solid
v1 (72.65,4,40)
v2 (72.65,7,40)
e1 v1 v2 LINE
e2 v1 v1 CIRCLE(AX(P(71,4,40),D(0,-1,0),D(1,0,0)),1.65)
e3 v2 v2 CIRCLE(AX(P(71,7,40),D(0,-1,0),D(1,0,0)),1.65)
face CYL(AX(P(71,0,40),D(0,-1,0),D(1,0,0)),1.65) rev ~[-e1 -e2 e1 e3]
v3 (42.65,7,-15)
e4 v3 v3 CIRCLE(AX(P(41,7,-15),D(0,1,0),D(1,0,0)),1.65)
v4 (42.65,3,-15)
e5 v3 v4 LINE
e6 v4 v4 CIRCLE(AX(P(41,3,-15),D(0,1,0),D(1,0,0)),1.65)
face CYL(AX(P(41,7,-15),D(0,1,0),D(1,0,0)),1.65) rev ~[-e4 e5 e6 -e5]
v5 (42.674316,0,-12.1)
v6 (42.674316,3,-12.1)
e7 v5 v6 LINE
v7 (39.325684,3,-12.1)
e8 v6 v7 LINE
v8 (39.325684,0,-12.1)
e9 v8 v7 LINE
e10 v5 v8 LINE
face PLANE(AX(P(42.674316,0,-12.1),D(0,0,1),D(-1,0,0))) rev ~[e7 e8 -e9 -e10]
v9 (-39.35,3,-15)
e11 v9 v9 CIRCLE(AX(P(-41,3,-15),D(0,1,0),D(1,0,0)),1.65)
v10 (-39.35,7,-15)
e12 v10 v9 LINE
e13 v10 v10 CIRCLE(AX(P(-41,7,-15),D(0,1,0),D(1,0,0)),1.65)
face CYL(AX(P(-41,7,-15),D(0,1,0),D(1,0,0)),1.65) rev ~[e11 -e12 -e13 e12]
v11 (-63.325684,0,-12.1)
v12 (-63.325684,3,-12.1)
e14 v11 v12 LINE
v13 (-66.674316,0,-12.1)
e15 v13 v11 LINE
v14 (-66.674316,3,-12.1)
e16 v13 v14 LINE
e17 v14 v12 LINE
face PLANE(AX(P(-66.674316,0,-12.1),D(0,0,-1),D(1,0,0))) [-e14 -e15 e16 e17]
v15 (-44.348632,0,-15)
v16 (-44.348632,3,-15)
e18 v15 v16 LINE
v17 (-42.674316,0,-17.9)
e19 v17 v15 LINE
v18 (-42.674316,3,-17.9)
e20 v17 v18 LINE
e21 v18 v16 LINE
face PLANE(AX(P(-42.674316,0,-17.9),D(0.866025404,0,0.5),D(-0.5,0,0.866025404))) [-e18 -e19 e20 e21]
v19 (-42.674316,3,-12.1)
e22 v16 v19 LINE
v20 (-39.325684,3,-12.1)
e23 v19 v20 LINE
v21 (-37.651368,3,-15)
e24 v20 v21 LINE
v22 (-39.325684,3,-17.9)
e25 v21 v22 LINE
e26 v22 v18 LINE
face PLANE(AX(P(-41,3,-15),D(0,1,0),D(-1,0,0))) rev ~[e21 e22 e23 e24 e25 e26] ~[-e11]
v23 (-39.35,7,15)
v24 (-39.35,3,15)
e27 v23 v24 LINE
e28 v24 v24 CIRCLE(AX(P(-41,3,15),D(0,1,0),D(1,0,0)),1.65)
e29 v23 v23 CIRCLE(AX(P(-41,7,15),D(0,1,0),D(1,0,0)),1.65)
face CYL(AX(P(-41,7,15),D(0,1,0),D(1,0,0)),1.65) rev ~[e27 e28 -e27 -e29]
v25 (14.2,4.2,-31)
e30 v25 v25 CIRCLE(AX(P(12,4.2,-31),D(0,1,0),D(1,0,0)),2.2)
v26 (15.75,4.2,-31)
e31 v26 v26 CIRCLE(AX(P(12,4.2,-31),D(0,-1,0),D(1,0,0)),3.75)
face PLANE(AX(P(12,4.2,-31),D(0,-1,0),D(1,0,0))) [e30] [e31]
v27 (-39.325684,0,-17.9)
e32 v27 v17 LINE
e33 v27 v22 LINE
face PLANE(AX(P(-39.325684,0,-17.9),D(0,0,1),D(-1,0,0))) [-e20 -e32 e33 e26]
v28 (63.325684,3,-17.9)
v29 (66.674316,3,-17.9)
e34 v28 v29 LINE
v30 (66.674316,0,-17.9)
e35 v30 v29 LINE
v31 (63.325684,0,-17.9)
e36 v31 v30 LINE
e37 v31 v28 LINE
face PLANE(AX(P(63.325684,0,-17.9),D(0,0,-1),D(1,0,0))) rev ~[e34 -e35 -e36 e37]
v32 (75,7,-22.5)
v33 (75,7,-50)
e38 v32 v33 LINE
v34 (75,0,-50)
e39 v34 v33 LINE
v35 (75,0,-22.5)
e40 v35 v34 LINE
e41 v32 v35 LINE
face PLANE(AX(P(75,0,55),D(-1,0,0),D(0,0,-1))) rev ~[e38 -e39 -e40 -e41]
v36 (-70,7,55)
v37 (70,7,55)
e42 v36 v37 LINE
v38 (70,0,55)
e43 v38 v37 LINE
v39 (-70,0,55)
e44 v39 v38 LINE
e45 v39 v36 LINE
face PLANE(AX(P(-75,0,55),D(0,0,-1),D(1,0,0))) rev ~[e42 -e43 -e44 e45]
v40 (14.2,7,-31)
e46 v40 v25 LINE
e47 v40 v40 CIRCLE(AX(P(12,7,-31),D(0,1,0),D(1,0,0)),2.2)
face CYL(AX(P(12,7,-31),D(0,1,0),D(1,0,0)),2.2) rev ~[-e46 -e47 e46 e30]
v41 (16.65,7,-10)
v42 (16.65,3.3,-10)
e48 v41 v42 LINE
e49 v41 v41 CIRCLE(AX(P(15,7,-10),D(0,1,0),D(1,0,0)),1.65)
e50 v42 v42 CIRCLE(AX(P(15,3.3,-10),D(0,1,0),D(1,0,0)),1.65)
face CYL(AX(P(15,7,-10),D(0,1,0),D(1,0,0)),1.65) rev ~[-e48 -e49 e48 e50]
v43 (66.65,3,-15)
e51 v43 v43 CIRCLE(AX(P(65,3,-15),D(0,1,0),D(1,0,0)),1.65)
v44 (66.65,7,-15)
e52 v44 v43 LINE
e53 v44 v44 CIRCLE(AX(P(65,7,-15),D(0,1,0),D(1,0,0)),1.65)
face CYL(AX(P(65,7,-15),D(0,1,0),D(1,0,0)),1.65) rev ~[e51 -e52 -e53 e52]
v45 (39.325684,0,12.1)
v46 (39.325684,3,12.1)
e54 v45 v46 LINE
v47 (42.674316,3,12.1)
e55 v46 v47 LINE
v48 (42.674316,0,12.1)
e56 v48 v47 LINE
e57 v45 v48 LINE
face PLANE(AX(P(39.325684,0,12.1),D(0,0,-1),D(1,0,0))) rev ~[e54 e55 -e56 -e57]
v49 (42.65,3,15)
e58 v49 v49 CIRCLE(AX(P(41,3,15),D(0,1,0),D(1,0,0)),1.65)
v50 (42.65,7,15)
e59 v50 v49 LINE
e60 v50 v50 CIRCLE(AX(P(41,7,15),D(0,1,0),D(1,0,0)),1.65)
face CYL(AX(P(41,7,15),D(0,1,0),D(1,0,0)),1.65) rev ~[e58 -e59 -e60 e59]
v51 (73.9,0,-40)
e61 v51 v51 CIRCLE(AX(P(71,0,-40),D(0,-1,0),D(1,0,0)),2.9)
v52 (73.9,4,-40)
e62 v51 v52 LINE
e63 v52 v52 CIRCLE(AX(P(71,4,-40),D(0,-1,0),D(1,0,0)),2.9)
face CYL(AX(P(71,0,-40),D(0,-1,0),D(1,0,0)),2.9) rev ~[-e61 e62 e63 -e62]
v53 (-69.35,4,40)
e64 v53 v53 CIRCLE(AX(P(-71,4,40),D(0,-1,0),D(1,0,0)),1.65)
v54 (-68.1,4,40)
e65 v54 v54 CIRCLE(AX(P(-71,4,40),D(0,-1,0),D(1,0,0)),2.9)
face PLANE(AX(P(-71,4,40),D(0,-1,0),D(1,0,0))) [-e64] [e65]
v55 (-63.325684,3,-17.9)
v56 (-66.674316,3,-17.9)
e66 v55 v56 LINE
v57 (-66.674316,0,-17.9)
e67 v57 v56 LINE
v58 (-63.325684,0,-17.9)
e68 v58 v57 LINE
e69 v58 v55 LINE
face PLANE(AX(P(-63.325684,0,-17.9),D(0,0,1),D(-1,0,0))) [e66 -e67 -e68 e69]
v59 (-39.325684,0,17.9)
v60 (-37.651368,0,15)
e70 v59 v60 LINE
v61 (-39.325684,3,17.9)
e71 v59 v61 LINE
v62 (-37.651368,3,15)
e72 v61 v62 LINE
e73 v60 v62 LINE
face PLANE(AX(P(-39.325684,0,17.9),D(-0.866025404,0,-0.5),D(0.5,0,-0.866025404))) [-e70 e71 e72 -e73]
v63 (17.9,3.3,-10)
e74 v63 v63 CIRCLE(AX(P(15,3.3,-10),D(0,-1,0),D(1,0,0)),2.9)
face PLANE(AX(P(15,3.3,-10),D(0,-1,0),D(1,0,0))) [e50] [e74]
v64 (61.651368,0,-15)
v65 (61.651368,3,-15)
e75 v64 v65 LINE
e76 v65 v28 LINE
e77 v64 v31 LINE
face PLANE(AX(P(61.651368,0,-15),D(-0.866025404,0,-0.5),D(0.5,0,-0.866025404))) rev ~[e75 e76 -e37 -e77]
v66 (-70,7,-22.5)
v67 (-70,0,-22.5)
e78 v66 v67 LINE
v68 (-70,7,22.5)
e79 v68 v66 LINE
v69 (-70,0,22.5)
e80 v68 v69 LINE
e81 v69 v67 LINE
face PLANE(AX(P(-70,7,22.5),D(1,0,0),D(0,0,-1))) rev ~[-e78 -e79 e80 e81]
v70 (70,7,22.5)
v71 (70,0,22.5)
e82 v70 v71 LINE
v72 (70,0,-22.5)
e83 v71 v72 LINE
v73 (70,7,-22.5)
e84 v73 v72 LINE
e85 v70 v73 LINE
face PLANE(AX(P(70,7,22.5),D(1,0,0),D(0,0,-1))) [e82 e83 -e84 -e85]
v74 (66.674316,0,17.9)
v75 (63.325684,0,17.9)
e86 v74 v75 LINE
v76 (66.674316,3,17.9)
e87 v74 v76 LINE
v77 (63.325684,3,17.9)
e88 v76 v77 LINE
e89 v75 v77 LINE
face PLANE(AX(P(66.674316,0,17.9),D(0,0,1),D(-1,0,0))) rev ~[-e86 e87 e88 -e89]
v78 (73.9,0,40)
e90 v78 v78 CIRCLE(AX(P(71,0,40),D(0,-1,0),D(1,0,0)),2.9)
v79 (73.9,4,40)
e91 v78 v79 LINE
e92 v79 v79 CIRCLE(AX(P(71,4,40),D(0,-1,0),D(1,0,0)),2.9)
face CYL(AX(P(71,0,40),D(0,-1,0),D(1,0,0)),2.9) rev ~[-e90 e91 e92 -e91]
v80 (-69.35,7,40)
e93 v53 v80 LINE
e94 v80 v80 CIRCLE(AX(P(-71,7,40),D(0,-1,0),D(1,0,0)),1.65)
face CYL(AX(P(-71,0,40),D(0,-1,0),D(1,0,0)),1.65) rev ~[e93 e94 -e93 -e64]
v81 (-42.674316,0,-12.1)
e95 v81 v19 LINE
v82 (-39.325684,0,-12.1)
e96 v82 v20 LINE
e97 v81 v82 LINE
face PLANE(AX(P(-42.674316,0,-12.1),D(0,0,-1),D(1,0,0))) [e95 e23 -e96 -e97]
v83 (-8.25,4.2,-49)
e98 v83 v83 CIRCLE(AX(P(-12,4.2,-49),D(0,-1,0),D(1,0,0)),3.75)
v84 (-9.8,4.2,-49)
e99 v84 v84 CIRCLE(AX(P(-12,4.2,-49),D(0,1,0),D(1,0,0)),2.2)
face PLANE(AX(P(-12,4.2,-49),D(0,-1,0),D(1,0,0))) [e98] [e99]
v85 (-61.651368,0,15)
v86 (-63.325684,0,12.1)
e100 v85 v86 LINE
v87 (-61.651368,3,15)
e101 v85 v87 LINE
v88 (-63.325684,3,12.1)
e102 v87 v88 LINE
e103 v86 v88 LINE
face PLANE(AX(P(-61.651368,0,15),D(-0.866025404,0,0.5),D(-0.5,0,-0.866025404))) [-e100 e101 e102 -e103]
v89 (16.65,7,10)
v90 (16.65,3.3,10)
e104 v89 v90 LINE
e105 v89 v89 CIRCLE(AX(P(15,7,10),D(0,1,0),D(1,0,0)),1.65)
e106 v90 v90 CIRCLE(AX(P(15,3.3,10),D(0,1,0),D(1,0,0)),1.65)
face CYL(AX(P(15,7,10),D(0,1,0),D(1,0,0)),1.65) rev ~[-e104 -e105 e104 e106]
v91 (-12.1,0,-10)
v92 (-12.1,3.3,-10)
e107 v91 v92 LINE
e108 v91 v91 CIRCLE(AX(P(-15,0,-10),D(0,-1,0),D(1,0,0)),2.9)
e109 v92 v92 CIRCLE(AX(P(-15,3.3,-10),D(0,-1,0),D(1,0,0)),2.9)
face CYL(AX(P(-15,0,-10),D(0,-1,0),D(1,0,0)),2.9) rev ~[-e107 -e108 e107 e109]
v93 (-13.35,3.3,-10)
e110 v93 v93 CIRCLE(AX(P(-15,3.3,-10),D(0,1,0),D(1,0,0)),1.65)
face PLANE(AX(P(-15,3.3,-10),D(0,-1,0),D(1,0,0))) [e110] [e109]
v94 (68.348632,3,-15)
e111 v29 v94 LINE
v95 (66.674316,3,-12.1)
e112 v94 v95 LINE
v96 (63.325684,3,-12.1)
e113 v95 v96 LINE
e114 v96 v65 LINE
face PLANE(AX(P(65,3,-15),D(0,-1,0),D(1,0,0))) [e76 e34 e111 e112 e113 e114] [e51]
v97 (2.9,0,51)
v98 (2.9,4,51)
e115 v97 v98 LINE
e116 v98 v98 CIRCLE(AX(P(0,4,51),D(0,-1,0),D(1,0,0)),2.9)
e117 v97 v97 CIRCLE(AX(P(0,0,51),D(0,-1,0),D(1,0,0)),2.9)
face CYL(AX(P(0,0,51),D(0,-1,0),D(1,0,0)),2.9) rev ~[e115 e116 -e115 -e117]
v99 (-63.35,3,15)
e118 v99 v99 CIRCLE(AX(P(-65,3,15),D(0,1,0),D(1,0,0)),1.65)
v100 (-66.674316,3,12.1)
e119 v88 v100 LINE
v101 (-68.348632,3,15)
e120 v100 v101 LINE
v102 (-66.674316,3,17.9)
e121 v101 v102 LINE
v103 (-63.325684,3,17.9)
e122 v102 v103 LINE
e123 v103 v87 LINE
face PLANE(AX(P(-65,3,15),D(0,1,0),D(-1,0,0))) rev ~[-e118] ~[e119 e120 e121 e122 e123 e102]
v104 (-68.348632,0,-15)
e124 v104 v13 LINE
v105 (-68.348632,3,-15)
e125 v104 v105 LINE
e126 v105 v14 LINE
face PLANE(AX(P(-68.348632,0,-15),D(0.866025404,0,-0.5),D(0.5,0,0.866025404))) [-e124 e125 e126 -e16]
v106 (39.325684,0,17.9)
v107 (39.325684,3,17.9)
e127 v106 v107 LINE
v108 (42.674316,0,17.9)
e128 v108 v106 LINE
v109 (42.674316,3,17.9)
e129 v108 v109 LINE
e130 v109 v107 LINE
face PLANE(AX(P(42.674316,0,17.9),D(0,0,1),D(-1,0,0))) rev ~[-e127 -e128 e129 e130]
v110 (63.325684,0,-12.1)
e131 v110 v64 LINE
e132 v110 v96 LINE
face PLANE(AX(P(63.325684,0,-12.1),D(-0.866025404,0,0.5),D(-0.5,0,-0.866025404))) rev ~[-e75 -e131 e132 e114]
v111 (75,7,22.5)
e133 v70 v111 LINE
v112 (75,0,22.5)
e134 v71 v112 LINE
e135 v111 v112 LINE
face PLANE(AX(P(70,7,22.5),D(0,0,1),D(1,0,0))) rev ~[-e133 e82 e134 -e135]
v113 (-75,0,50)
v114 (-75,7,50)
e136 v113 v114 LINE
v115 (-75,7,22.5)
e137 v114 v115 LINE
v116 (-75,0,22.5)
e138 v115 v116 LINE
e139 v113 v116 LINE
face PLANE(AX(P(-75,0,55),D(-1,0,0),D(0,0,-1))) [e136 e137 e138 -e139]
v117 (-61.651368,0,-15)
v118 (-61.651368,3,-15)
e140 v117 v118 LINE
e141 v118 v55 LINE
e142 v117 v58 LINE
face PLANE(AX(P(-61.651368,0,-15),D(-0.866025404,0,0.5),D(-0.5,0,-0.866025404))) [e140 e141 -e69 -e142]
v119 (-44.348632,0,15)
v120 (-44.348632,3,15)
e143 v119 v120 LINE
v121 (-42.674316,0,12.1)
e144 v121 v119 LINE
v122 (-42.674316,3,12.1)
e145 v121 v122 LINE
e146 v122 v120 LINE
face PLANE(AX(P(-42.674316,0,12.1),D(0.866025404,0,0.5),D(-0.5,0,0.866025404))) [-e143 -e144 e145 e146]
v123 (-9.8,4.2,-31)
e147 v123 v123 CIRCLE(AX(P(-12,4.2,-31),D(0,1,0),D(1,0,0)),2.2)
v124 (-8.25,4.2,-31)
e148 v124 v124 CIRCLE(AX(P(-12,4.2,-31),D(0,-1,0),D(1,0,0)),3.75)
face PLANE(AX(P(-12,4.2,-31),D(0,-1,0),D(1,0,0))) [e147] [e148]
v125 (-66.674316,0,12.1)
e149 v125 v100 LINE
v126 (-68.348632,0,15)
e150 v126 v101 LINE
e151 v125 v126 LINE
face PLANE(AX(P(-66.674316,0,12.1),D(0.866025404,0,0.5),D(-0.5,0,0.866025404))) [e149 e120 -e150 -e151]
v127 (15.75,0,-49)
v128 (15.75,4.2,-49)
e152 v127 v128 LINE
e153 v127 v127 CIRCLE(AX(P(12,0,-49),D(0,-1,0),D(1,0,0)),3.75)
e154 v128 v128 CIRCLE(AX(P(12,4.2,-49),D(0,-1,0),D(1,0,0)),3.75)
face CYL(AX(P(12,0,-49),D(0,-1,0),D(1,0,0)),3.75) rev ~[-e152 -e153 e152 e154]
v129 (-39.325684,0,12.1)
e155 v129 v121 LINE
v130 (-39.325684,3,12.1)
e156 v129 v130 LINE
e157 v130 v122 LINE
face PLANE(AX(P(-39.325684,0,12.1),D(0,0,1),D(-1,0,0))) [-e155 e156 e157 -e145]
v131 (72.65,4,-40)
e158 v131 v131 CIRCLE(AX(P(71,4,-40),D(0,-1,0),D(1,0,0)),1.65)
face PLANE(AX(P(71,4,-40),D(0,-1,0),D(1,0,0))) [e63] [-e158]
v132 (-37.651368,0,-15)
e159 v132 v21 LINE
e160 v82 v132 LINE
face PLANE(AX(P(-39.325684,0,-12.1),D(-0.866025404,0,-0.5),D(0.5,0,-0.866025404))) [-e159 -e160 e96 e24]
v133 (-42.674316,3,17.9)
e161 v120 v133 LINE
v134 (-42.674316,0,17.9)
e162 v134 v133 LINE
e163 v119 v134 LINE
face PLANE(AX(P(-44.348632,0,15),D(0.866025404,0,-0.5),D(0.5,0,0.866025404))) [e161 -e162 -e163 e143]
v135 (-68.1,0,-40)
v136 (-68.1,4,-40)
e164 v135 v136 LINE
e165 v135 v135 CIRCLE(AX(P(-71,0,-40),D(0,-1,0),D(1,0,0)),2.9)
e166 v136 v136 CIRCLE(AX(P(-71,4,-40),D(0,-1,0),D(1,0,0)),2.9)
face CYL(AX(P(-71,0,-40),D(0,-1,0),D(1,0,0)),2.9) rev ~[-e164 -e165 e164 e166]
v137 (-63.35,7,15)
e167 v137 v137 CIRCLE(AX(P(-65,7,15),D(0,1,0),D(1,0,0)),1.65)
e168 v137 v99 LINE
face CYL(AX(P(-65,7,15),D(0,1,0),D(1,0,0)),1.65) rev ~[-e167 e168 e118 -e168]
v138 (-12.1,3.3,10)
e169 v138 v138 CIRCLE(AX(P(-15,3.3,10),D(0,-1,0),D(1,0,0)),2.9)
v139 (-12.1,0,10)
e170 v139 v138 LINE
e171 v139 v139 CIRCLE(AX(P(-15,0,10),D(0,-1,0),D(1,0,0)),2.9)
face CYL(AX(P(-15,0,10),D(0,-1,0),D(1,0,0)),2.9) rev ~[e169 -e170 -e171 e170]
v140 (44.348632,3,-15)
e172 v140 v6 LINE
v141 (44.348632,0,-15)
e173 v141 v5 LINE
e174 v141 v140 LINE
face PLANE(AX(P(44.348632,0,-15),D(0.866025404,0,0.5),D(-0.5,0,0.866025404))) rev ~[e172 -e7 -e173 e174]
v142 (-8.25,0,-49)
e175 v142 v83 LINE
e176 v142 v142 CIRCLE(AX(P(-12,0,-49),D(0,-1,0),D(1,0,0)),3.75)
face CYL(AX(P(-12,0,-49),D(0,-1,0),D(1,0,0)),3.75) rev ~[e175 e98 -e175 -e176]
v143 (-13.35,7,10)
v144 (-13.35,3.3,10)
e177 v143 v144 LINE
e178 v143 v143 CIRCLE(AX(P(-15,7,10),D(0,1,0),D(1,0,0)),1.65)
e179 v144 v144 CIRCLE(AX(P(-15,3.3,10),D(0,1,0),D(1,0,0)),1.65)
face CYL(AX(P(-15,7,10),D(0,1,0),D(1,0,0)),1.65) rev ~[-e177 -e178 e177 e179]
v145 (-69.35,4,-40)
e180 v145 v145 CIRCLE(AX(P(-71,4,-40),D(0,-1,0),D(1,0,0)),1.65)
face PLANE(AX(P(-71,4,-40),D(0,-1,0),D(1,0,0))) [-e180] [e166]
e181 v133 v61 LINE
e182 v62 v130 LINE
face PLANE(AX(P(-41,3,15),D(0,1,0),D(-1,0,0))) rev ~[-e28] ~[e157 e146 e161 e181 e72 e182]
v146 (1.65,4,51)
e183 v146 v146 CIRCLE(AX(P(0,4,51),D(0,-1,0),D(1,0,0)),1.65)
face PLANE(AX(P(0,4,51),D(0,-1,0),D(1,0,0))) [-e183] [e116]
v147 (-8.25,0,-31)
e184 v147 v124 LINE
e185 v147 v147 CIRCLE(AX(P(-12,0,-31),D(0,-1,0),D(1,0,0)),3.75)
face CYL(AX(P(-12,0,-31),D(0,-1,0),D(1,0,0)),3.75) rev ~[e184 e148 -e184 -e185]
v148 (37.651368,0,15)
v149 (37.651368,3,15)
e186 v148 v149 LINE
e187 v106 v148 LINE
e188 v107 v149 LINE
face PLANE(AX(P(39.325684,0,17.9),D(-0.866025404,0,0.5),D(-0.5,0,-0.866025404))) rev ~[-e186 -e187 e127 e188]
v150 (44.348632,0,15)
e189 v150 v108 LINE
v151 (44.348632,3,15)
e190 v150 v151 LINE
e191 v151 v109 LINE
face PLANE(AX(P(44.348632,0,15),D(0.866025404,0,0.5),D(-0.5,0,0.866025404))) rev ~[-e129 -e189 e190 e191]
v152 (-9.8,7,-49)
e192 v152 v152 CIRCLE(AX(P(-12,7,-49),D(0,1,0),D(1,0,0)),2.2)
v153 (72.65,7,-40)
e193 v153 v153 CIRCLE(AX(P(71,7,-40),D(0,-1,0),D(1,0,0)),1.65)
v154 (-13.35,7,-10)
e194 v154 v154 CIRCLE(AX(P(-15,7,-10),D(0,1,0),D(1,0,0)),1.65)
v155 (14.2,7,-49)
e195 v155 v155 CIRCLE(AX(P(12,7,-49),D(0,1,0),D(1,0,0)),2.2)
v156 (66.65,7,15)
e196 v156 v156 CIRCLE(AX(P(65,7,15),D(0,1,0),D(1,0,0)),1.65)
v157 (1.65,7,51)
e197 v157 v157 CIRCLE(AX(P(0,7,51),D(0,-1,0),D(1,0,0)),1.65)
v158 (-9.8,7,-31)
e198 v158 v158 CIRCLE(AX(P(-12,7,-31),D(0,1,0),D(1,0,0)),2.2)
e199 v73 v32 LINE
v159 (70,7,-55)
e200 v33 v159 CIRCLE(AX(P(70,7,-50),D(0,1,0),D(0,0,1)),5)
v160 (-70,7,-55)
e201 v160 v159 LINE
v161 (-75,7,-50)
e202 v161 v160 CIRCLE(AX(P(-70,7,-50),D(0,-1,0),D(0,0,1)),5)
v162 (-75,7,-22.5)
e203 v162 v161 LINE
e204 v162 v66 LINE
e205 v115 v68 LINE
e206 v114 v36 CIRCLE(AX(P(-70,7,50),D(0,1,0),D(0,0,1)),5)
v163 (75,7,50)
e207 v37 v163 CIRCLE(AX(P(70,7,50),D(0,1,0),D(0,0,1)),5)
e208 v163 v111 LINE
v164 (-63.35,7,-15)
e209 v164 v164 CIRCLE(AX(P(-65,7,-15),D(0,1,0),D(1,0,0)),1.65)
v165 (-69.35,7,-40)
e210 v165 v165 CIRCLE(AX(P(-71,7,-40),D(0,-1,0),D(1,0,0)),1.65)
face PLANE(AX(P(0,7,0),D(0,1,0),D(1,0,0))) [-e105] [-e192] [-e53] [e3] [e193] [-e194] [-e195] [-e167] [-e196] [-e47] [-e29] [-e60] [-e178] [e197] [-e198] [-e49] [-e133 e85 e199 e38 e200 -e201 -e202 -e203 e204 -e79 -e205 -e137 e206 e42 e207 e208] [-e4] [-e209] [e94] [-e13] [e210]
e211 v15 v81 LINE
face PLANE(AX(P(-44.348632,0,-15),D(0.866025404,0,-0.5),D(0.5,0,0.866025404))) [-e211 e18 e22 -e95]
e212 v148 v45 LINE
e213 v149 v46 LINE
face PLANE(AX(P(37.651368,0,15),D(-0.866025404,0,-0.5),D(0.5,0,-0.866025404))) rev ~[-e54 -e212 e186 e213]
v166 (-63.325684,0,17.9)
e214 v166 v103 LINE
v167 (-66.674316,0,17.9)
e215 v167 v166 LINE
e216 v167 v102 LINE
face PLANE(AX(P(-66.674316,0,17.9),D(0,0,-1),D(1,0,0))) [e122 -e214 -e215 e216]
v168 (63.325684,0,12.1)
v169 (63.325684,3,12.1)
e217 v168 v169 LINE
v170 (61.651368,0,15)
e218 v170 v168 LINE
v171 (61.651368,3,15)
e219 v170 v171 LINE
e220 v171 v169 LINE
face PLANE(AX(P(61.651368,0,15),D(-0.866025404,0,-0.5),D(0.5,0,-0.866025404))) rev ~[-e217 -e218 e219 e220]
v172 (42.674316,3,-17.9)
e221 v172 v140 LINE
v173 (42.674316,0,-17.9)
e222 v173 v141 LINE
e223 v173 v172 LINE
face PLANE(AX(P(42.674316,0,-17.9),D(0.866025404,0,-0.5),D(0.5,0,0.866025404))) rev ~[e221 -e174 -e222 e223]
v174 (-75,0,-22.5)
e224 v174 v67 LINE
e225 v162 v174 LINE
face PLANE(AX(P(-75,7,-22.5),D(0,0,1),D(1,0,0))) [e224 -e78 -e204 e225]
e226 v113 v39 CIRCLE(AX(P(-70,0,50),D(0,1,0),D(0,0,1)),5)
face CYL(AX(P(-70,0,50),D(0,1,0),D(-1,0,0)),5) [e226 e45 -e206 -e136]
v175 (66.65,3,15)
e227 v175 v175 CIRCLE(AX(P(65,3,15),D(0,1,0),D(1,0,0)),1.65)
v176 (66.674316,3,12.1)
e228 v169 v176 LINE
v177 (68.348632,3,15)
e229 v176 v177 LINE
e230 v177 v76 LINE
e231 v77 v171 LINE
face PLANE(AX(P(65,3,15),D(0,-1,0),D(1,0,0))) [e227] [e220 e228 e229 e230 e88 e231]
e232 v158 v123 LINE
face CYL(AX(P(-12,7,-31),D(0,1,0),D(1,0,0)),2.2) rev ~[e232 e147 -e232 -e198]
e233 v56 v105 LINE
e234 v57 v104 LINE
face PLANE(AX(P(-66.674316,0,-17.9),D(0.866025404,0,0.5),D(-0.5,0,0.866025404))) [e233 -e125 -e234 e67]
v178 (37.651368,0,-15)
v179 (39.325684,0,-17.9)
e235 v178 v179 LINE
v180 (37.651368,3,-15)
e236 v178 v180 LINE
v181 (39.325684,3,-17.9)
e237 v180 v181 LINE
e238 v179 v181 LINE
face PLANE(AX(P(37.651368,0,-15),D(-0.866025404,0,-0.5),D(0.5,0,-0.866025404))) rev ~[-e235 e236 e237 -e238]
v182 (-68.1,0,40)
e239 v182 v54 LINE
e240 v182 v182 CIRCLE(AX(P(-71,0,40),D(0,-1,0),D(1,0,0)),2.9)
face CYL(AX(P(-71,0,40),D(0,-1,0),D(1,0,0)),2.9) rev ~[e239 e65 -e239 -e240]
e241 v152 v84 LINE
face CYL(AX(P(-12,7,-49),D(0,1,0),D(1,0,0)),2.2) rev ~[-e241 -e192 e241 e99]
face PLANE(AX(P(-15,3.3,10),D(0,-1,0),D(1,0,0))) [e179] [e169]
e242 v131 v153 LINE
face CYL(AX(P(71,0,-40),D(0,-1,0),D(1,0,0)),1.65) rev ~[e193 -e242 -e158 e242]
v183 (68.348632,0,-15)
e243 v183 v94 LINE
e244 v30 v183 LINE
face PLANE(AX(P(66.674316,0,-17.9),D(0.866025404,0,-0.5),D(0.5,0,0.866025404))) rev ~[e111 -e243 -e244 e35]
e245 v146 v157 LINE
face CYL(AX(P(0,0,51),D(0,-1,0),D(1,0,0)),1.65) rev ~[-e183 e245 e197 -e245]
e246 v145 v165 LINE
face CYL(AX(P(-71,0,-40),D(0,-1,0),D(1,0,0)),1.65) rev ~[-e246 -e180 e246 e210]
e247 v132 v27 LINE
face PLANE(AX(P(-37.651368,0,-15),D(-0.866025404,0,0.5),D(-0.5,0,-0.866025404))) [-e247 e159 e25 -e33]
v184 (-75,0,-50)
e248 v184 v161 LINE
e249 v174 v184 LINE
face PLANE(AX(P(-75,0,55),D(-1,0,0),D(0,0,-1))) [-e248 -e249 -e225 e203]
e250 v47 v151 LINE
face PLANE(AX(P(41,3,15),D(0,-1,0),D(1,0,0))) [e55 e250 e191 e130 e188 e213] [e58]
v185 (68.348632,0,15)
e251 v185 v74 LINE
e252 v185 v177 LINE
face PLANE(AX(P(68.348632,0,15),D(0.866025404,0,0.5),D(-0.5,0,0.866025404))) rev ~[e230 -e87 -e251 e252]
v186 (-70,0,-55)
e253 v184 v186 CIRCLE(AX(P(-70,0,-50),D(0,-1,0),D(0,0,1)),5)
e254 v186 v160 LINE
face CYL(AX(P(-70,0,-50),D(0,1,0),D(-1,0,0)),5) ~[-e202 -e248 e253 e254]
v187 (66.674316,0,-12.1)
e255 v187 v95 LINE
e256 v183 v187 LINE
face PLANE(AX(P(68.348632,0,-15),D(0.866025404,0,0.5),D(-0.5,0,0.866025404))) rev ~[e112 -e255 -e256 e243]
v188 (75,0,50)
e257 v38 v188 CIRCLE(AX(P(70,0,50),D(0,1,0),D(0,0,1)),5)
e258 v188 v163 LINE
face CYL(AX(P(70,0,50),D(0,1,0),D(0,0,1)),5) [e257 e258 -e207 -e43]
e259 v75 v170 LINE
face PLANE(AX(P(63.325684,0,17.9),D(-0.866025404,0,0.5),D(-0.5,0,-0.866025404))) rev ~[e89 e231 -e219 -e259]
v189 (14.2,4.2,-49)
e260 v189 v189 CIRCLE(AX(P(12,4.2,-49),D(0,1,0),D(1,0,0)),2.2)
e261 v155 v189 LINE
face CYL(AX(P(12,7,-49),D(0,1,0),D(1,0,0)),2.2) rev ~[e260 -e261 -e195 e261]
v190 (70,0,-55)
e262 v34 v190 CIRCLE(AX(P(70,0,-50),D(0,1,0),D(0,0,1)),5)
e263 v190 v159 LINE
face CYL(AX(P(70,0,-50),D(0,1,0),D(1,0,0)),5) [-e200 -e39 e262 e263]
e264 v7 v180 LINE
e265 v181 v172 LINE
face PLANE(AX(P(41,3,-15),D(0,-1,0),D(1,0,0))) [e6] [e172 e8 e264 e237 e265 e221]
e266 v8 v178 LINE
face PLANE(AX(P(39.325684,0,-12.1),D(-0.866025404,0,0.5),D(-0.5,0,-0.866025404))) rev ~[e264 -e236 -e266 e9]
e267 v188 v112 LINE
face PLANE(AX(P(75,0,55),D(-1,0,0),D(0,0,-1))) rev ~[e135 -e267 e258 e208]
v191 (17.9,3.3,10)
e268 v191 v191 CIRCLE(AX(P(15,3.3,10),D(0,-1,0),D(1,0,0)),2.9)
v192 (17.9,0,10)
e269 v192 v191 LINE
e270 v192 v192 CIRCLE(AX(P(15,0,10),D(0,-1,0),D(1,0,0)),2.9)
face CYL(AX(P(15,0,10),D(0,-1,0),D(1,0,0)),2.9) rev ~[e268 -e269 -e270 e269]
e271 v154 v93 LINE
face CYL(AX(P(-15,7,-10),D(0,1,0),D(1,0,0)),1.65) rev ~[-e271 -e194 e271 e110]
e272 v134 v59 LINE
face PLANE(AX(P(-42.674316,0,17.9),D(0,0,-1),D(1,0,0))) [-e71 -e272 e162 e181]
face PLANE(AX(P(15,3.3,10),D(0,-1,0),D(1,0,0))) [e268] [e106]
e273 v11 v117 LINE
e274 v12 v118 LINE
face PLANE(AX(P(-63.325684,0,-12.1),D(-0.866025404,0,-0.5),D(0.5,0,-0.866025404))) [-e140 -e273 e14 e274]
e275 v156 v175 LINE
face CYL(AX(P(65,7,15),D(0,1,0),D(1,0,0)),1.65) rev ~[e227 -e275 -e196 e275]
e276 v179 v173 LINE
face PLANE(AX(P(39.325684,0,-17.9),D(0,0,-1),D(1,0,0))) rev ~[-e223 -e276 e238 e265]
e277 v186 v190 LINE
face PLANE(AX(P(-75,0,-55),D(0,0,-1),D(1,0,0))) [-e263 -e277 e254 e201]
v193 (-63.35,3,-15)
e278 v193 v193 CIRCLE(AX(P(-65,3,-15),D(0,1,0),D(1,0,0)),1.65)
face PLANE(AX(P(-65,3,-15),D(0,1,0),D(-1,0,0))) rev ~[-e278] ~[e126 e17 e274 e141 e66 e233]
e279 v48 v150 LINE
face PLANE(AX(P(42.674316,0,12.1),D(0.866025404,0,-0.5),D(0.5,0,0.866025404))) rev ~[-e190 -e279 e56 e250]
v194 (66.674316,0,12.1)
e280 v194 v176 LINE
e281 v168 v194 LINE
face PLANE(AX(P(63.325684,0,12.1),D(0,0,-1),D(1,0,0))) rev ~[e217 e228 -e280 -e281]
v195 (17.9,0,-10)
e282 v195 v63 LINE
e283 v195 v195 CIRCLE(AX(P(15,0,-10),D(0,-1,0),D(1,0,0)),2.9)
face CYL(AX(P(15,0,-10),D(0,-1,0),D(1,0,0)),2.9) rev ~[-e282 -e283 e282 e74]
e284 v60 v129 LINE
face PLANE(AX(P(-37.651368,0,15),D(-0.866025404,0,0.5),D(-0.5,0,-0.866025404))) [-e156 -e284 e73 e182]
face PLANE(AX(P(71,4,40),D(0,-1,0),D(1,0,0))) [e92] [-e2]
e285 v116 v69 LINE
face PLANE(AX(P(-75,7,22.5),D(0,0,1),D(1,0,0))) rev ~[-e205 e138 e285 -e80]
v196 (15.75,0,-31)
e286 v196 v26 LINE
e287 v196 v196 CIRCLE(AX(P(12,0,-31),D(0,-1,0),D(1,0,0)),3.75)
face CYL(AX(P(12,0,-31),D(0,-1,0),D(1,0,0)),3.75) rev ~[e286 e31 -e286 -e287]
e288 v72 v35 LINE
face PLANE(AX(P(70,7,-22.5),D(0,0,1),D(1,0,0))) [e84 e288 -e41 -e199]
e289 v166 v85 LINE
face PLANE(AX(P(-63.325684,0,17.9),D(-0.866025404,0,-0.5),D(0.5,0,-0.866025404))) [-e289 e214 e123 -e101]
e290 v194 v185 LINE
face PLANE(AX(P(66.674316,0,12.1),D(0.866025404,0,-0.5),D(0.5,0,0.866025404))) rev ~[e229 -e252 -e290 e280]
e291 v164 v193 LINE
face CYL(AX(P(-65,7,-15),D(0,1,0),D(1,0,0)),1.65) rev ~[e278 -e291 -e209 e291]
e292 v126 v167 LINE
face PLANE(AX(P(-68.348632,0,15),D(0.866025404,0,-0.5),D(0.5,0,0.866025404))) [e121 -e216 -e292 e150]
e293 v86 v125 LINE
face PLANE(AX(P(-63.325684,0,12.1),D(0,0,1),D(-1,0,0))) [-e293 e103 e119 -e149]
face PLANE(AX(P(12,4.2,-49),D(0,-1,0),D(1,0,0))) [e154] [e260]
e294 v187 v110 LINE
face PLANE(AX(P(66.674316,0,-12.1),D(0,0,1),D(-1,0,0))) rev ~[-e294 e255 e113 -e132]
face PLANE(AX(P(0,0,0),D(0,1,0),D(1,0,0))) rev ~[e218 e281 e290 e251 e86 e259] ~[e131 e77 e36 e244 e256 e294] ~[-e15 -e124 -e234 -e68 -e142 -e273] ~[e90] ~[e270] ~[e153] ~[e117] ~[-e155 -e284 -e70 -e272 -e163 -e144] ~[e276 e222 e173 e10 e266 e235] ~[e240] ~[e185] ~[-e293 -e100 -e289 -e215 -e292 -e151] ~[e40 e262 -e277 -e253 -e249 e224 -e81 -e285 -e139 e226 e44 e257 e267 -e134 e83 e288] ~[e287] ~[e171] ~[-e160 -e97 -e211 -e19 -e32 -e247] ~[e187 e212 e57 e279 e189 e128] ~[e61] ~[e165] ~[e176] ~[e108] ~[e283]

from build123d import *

# Parameters (mm, degrees)
SKETCH_1_W          = 150
SKETCH_1_H          = 110
EXTRUDE_1_DEPTH     = 7
FILLET_1_R          = 5
SKETCH_2_R          = 1.65
SKETCH_2_R_2        = 2.2
CUT_EXTRUDE_1_DEPTH = 8
SKETCH_5_R          = 3.75
CUT_EXTRUDE_3_DEPTH = 4.2
CUT_EXTRUDE_4_DEPTH = 3
SKETCH_7_R          = 2.9
CUT_EXTRUDE_5_DEPTH = 3.3
SKETCH_8_R          = 1.65
CUT_EXTRUDE_6_DEPTH = 8
SKETCH_9_R          = 2.9
CUT_EXTRUDE_7_DEPTH = 4
SKETCH_10_W         = 5
SKETCH_10_H         = 45
CUT_EXTRUDE_8_DEPTH = 8


with BuildPart() as part:
    # 草图1 → 凸台-拉伸1 (new body)
    with BuildSketch(Plane(origin=(0, 0, 0), x_dir=(1, 0, 0), z_dir=(0, 1, 0))):
        Rectangle(SKETCH_1_W, SKETCH_1_H)
    extrude(amount=EXTRUDE_1_DEPTH)

    # 圆角1
    fillet_1_edges = [part.edges().sort_by_distance(p)[0] for p in [
        (75, 3.5, 55),
        (-75, 3.5, 55),
        (-75, 3.5, -55),
        (75, 3.5, -55),
    ]]
    fillet(fillet_1_edges, radius=FILLET_1_R)

    # 草图2 → 切除-拉伸1 (cut, through all)
    with BuildSketch(Plane(origin=(0, 7, 0), x_dir=(1, 0, 0), z_dir=(0, 1, 0))):
        with Locations((65, -15)):
            Circle(SKETCH_2_R)
        with Locations((41, -15)):
            Circle(SKETCH_2_R)
        with Locations((41, 15)):
            Circle(SKETCH_2_R)
        with Locations((65, 15)):
            Circle(SKETCH_2_R)
        with Locations((-65, 15)):
            Circle(SKETCH_2_R)
        with Locations((-41, 15)):
            Circle(SKETCH_2_R)
        with Locations((-41, -15)):
            Circle(SKETCH_2_R)
        with Locations((-65, -15)):
            Circle(SKETCH_2_R)
        with Locations((12, 31)):
            Circle(SKETCH_2_R_2)
        with Locations((12, 49)):
            Circle(SKETCH_2_R_2)
        with Locations((-12, 49)):
            Circle(SKETCH_2_R_2)
        with Locations((-12, 31)):
            Circle(SKETCH_2_R_2)
        with Locations((15, 10)):
            Circle(SKETCH_2_R)
        with Locations((15, -10)):
            Circle(SKETCH_2_R)
        with Locations((-15, -10)):
            Circle(SKETCH_2_R)
        with Locations((-15, 10)):
            Circle(SKETCH_2_R)
    extrude(amount=-CUT_EXTRUDE_1_DEPTH, mode=Mode.SUBTRACT)

    # 草图5 → 切除-拉伸3 (cut)
    with BuildSketch(Plane.XZ):
        with Locations((12, -49)):
            Circle(SKETCH_5_R)
        with Locations((12, -31)):
            Circle(SKETCH_5_R)
        with Locations((-12, -31)):
            Circle(SKETCH_5_R)
        with Locations((-12, -49)):
            Circle(SKETCH_5_R)
    extrude(amount=-CUT_EXTRUDE_3_DEPTH, mode=Mode.SUBTRACT)

    # 草图6 → 切除-拉伸4 (cut)
    with BuildSketch(Plane.XZ):
        Polygon((-39.325684219, 17.9), (-37.651368439, 15), (-39.325684219, 12.1), (-42.674315781, 12.1), (-44.348631561, 15), (-42.674315781, 17.9), align=None)
        Polygon((61.651368439, -15), (63.325684219, -17.9), (66.674315781, -17.9), (68.348631561, -15), (66.674315781, -12.1), (63.325684219, -12.1), align=None)
        Polygon((37.651368439, -15), (39.325684219, -17.9), (42.674315781, -17.9), (44.348631561, -15), (42.674315781, -12.1), (39.325684219, -12.1), align=None)
        Polygon((61.651368439, 15), (63.325684219, 12.1), (66.674315781, 12.1), (68.348631561, 15), (66.674315781, 17.9), (63.325684219, 17.9), align=None)
        Polygon((37.651368439, 15), (39.325684219, 12.1), (42.674315781, 12.1), (44.348631561, 15), (42.674315781, 17.9), (39.325684219, 17.9), align=None)
        Polygon((-63.325684219, 17.9), (-61.651368439, 15), (-63.325684219, 12.1), (-66.674315781, 12.1), (-68.348631561, 15), (-66.674315781, 17.9), align=None)
        Polygon((-39.325684219, -12.1), (-37.651368439, -15), (-39.325684219, -17.9), (-42.674315781, -17.9), (-44.348631561, -15), (-42.674315781, -12.1), align=None)
        Polygon((-63.325684219, -12.1), (-61.651368439, -15), (-63.325684219, -17.9), (-66.674315781, -17.9), (-68.348631561, -15), (-66.674315781, -12.1), align=None)
    extrude(amount=-CUT_EXTRUDE_4_DEPTH, mode=Mode.SUBTRACT)

    # 草图7 → 切除-拉伸5 (cut)
    with BuildSketch(Plane.XZ):
        with Locations((15, -10)):
            Circle(SKETCH_7_R)
        with Locations((15, 10)):
            Circle(SKETCH_7_R)
        with Locations((-15, 10)):
            Circle(SKETCH_7_R)
        with Locations((-15, -10)):
            Circle(SKETCH_7_R)
    extrude(amount=-CUT_EXTRUDE_5_DEPTH, mode=Mode.SUBTRACT)

    # 草图8 → 切除-拉伸6 (cut, through all)
    with BuildSketch(Plane.XZ):
        with Locations((71, 40)):
            Circle(SKETCH_8_R)
        with Locations((71, -40)):
            Circle(SKETCH_8_R)
        with Locations((-71, -40)):
            Circle(SKETCH_8_R)
        with Locations((-71, 40)):
            Circle(SKETCH_8_R)
        with Locations((0, 51)):
            Circle(SKETCH_8_R)
    extrude(amount=-CUT_EXTRUDE_6_DEPTH, mode=Mode.SUBTRACT)

    # 草图9 → 切除-拉伸7 (cut)
    with BuildSketch(Plane.XZ):
        with Locations((71, 40)):
            Circle(SKETCH_9_R)
        with Locations((71, -40)):
            Circle(SKETCH_9_R)
        with Locations((-71, 40)):
            Circle(SKETCH_9_R)
        with Locations((-71, -40)):
            Circle(SKETCH_9_R)
        with Locations((0, 51)):
            Circle(SKETCH_9_R)
    extrude(amount=-CUT_EXTRUDE_7_DEPTH, mode=Mode.SUBTRACT)

    # 草图10 → 切除-拉伸8 (cut, through all)
    with BuildSketch(Plane(origin=(0, 7, 0), x_dir=(1, 0, 0), z_dir=(0, 1, 0))):
        with Locations((72.5, 0)):
            Rectangle(SKETCH_10_W, SKETCH_10_H)
        with Locations((-72.5, 0)):
            Rectangle(SKETCH_10_W, SKETCH_10_H)
    extrude(amount=-CUT_EXTRUDE_8_DEPTH, mode=Mode.SUBTRACT)


solid = part.part
